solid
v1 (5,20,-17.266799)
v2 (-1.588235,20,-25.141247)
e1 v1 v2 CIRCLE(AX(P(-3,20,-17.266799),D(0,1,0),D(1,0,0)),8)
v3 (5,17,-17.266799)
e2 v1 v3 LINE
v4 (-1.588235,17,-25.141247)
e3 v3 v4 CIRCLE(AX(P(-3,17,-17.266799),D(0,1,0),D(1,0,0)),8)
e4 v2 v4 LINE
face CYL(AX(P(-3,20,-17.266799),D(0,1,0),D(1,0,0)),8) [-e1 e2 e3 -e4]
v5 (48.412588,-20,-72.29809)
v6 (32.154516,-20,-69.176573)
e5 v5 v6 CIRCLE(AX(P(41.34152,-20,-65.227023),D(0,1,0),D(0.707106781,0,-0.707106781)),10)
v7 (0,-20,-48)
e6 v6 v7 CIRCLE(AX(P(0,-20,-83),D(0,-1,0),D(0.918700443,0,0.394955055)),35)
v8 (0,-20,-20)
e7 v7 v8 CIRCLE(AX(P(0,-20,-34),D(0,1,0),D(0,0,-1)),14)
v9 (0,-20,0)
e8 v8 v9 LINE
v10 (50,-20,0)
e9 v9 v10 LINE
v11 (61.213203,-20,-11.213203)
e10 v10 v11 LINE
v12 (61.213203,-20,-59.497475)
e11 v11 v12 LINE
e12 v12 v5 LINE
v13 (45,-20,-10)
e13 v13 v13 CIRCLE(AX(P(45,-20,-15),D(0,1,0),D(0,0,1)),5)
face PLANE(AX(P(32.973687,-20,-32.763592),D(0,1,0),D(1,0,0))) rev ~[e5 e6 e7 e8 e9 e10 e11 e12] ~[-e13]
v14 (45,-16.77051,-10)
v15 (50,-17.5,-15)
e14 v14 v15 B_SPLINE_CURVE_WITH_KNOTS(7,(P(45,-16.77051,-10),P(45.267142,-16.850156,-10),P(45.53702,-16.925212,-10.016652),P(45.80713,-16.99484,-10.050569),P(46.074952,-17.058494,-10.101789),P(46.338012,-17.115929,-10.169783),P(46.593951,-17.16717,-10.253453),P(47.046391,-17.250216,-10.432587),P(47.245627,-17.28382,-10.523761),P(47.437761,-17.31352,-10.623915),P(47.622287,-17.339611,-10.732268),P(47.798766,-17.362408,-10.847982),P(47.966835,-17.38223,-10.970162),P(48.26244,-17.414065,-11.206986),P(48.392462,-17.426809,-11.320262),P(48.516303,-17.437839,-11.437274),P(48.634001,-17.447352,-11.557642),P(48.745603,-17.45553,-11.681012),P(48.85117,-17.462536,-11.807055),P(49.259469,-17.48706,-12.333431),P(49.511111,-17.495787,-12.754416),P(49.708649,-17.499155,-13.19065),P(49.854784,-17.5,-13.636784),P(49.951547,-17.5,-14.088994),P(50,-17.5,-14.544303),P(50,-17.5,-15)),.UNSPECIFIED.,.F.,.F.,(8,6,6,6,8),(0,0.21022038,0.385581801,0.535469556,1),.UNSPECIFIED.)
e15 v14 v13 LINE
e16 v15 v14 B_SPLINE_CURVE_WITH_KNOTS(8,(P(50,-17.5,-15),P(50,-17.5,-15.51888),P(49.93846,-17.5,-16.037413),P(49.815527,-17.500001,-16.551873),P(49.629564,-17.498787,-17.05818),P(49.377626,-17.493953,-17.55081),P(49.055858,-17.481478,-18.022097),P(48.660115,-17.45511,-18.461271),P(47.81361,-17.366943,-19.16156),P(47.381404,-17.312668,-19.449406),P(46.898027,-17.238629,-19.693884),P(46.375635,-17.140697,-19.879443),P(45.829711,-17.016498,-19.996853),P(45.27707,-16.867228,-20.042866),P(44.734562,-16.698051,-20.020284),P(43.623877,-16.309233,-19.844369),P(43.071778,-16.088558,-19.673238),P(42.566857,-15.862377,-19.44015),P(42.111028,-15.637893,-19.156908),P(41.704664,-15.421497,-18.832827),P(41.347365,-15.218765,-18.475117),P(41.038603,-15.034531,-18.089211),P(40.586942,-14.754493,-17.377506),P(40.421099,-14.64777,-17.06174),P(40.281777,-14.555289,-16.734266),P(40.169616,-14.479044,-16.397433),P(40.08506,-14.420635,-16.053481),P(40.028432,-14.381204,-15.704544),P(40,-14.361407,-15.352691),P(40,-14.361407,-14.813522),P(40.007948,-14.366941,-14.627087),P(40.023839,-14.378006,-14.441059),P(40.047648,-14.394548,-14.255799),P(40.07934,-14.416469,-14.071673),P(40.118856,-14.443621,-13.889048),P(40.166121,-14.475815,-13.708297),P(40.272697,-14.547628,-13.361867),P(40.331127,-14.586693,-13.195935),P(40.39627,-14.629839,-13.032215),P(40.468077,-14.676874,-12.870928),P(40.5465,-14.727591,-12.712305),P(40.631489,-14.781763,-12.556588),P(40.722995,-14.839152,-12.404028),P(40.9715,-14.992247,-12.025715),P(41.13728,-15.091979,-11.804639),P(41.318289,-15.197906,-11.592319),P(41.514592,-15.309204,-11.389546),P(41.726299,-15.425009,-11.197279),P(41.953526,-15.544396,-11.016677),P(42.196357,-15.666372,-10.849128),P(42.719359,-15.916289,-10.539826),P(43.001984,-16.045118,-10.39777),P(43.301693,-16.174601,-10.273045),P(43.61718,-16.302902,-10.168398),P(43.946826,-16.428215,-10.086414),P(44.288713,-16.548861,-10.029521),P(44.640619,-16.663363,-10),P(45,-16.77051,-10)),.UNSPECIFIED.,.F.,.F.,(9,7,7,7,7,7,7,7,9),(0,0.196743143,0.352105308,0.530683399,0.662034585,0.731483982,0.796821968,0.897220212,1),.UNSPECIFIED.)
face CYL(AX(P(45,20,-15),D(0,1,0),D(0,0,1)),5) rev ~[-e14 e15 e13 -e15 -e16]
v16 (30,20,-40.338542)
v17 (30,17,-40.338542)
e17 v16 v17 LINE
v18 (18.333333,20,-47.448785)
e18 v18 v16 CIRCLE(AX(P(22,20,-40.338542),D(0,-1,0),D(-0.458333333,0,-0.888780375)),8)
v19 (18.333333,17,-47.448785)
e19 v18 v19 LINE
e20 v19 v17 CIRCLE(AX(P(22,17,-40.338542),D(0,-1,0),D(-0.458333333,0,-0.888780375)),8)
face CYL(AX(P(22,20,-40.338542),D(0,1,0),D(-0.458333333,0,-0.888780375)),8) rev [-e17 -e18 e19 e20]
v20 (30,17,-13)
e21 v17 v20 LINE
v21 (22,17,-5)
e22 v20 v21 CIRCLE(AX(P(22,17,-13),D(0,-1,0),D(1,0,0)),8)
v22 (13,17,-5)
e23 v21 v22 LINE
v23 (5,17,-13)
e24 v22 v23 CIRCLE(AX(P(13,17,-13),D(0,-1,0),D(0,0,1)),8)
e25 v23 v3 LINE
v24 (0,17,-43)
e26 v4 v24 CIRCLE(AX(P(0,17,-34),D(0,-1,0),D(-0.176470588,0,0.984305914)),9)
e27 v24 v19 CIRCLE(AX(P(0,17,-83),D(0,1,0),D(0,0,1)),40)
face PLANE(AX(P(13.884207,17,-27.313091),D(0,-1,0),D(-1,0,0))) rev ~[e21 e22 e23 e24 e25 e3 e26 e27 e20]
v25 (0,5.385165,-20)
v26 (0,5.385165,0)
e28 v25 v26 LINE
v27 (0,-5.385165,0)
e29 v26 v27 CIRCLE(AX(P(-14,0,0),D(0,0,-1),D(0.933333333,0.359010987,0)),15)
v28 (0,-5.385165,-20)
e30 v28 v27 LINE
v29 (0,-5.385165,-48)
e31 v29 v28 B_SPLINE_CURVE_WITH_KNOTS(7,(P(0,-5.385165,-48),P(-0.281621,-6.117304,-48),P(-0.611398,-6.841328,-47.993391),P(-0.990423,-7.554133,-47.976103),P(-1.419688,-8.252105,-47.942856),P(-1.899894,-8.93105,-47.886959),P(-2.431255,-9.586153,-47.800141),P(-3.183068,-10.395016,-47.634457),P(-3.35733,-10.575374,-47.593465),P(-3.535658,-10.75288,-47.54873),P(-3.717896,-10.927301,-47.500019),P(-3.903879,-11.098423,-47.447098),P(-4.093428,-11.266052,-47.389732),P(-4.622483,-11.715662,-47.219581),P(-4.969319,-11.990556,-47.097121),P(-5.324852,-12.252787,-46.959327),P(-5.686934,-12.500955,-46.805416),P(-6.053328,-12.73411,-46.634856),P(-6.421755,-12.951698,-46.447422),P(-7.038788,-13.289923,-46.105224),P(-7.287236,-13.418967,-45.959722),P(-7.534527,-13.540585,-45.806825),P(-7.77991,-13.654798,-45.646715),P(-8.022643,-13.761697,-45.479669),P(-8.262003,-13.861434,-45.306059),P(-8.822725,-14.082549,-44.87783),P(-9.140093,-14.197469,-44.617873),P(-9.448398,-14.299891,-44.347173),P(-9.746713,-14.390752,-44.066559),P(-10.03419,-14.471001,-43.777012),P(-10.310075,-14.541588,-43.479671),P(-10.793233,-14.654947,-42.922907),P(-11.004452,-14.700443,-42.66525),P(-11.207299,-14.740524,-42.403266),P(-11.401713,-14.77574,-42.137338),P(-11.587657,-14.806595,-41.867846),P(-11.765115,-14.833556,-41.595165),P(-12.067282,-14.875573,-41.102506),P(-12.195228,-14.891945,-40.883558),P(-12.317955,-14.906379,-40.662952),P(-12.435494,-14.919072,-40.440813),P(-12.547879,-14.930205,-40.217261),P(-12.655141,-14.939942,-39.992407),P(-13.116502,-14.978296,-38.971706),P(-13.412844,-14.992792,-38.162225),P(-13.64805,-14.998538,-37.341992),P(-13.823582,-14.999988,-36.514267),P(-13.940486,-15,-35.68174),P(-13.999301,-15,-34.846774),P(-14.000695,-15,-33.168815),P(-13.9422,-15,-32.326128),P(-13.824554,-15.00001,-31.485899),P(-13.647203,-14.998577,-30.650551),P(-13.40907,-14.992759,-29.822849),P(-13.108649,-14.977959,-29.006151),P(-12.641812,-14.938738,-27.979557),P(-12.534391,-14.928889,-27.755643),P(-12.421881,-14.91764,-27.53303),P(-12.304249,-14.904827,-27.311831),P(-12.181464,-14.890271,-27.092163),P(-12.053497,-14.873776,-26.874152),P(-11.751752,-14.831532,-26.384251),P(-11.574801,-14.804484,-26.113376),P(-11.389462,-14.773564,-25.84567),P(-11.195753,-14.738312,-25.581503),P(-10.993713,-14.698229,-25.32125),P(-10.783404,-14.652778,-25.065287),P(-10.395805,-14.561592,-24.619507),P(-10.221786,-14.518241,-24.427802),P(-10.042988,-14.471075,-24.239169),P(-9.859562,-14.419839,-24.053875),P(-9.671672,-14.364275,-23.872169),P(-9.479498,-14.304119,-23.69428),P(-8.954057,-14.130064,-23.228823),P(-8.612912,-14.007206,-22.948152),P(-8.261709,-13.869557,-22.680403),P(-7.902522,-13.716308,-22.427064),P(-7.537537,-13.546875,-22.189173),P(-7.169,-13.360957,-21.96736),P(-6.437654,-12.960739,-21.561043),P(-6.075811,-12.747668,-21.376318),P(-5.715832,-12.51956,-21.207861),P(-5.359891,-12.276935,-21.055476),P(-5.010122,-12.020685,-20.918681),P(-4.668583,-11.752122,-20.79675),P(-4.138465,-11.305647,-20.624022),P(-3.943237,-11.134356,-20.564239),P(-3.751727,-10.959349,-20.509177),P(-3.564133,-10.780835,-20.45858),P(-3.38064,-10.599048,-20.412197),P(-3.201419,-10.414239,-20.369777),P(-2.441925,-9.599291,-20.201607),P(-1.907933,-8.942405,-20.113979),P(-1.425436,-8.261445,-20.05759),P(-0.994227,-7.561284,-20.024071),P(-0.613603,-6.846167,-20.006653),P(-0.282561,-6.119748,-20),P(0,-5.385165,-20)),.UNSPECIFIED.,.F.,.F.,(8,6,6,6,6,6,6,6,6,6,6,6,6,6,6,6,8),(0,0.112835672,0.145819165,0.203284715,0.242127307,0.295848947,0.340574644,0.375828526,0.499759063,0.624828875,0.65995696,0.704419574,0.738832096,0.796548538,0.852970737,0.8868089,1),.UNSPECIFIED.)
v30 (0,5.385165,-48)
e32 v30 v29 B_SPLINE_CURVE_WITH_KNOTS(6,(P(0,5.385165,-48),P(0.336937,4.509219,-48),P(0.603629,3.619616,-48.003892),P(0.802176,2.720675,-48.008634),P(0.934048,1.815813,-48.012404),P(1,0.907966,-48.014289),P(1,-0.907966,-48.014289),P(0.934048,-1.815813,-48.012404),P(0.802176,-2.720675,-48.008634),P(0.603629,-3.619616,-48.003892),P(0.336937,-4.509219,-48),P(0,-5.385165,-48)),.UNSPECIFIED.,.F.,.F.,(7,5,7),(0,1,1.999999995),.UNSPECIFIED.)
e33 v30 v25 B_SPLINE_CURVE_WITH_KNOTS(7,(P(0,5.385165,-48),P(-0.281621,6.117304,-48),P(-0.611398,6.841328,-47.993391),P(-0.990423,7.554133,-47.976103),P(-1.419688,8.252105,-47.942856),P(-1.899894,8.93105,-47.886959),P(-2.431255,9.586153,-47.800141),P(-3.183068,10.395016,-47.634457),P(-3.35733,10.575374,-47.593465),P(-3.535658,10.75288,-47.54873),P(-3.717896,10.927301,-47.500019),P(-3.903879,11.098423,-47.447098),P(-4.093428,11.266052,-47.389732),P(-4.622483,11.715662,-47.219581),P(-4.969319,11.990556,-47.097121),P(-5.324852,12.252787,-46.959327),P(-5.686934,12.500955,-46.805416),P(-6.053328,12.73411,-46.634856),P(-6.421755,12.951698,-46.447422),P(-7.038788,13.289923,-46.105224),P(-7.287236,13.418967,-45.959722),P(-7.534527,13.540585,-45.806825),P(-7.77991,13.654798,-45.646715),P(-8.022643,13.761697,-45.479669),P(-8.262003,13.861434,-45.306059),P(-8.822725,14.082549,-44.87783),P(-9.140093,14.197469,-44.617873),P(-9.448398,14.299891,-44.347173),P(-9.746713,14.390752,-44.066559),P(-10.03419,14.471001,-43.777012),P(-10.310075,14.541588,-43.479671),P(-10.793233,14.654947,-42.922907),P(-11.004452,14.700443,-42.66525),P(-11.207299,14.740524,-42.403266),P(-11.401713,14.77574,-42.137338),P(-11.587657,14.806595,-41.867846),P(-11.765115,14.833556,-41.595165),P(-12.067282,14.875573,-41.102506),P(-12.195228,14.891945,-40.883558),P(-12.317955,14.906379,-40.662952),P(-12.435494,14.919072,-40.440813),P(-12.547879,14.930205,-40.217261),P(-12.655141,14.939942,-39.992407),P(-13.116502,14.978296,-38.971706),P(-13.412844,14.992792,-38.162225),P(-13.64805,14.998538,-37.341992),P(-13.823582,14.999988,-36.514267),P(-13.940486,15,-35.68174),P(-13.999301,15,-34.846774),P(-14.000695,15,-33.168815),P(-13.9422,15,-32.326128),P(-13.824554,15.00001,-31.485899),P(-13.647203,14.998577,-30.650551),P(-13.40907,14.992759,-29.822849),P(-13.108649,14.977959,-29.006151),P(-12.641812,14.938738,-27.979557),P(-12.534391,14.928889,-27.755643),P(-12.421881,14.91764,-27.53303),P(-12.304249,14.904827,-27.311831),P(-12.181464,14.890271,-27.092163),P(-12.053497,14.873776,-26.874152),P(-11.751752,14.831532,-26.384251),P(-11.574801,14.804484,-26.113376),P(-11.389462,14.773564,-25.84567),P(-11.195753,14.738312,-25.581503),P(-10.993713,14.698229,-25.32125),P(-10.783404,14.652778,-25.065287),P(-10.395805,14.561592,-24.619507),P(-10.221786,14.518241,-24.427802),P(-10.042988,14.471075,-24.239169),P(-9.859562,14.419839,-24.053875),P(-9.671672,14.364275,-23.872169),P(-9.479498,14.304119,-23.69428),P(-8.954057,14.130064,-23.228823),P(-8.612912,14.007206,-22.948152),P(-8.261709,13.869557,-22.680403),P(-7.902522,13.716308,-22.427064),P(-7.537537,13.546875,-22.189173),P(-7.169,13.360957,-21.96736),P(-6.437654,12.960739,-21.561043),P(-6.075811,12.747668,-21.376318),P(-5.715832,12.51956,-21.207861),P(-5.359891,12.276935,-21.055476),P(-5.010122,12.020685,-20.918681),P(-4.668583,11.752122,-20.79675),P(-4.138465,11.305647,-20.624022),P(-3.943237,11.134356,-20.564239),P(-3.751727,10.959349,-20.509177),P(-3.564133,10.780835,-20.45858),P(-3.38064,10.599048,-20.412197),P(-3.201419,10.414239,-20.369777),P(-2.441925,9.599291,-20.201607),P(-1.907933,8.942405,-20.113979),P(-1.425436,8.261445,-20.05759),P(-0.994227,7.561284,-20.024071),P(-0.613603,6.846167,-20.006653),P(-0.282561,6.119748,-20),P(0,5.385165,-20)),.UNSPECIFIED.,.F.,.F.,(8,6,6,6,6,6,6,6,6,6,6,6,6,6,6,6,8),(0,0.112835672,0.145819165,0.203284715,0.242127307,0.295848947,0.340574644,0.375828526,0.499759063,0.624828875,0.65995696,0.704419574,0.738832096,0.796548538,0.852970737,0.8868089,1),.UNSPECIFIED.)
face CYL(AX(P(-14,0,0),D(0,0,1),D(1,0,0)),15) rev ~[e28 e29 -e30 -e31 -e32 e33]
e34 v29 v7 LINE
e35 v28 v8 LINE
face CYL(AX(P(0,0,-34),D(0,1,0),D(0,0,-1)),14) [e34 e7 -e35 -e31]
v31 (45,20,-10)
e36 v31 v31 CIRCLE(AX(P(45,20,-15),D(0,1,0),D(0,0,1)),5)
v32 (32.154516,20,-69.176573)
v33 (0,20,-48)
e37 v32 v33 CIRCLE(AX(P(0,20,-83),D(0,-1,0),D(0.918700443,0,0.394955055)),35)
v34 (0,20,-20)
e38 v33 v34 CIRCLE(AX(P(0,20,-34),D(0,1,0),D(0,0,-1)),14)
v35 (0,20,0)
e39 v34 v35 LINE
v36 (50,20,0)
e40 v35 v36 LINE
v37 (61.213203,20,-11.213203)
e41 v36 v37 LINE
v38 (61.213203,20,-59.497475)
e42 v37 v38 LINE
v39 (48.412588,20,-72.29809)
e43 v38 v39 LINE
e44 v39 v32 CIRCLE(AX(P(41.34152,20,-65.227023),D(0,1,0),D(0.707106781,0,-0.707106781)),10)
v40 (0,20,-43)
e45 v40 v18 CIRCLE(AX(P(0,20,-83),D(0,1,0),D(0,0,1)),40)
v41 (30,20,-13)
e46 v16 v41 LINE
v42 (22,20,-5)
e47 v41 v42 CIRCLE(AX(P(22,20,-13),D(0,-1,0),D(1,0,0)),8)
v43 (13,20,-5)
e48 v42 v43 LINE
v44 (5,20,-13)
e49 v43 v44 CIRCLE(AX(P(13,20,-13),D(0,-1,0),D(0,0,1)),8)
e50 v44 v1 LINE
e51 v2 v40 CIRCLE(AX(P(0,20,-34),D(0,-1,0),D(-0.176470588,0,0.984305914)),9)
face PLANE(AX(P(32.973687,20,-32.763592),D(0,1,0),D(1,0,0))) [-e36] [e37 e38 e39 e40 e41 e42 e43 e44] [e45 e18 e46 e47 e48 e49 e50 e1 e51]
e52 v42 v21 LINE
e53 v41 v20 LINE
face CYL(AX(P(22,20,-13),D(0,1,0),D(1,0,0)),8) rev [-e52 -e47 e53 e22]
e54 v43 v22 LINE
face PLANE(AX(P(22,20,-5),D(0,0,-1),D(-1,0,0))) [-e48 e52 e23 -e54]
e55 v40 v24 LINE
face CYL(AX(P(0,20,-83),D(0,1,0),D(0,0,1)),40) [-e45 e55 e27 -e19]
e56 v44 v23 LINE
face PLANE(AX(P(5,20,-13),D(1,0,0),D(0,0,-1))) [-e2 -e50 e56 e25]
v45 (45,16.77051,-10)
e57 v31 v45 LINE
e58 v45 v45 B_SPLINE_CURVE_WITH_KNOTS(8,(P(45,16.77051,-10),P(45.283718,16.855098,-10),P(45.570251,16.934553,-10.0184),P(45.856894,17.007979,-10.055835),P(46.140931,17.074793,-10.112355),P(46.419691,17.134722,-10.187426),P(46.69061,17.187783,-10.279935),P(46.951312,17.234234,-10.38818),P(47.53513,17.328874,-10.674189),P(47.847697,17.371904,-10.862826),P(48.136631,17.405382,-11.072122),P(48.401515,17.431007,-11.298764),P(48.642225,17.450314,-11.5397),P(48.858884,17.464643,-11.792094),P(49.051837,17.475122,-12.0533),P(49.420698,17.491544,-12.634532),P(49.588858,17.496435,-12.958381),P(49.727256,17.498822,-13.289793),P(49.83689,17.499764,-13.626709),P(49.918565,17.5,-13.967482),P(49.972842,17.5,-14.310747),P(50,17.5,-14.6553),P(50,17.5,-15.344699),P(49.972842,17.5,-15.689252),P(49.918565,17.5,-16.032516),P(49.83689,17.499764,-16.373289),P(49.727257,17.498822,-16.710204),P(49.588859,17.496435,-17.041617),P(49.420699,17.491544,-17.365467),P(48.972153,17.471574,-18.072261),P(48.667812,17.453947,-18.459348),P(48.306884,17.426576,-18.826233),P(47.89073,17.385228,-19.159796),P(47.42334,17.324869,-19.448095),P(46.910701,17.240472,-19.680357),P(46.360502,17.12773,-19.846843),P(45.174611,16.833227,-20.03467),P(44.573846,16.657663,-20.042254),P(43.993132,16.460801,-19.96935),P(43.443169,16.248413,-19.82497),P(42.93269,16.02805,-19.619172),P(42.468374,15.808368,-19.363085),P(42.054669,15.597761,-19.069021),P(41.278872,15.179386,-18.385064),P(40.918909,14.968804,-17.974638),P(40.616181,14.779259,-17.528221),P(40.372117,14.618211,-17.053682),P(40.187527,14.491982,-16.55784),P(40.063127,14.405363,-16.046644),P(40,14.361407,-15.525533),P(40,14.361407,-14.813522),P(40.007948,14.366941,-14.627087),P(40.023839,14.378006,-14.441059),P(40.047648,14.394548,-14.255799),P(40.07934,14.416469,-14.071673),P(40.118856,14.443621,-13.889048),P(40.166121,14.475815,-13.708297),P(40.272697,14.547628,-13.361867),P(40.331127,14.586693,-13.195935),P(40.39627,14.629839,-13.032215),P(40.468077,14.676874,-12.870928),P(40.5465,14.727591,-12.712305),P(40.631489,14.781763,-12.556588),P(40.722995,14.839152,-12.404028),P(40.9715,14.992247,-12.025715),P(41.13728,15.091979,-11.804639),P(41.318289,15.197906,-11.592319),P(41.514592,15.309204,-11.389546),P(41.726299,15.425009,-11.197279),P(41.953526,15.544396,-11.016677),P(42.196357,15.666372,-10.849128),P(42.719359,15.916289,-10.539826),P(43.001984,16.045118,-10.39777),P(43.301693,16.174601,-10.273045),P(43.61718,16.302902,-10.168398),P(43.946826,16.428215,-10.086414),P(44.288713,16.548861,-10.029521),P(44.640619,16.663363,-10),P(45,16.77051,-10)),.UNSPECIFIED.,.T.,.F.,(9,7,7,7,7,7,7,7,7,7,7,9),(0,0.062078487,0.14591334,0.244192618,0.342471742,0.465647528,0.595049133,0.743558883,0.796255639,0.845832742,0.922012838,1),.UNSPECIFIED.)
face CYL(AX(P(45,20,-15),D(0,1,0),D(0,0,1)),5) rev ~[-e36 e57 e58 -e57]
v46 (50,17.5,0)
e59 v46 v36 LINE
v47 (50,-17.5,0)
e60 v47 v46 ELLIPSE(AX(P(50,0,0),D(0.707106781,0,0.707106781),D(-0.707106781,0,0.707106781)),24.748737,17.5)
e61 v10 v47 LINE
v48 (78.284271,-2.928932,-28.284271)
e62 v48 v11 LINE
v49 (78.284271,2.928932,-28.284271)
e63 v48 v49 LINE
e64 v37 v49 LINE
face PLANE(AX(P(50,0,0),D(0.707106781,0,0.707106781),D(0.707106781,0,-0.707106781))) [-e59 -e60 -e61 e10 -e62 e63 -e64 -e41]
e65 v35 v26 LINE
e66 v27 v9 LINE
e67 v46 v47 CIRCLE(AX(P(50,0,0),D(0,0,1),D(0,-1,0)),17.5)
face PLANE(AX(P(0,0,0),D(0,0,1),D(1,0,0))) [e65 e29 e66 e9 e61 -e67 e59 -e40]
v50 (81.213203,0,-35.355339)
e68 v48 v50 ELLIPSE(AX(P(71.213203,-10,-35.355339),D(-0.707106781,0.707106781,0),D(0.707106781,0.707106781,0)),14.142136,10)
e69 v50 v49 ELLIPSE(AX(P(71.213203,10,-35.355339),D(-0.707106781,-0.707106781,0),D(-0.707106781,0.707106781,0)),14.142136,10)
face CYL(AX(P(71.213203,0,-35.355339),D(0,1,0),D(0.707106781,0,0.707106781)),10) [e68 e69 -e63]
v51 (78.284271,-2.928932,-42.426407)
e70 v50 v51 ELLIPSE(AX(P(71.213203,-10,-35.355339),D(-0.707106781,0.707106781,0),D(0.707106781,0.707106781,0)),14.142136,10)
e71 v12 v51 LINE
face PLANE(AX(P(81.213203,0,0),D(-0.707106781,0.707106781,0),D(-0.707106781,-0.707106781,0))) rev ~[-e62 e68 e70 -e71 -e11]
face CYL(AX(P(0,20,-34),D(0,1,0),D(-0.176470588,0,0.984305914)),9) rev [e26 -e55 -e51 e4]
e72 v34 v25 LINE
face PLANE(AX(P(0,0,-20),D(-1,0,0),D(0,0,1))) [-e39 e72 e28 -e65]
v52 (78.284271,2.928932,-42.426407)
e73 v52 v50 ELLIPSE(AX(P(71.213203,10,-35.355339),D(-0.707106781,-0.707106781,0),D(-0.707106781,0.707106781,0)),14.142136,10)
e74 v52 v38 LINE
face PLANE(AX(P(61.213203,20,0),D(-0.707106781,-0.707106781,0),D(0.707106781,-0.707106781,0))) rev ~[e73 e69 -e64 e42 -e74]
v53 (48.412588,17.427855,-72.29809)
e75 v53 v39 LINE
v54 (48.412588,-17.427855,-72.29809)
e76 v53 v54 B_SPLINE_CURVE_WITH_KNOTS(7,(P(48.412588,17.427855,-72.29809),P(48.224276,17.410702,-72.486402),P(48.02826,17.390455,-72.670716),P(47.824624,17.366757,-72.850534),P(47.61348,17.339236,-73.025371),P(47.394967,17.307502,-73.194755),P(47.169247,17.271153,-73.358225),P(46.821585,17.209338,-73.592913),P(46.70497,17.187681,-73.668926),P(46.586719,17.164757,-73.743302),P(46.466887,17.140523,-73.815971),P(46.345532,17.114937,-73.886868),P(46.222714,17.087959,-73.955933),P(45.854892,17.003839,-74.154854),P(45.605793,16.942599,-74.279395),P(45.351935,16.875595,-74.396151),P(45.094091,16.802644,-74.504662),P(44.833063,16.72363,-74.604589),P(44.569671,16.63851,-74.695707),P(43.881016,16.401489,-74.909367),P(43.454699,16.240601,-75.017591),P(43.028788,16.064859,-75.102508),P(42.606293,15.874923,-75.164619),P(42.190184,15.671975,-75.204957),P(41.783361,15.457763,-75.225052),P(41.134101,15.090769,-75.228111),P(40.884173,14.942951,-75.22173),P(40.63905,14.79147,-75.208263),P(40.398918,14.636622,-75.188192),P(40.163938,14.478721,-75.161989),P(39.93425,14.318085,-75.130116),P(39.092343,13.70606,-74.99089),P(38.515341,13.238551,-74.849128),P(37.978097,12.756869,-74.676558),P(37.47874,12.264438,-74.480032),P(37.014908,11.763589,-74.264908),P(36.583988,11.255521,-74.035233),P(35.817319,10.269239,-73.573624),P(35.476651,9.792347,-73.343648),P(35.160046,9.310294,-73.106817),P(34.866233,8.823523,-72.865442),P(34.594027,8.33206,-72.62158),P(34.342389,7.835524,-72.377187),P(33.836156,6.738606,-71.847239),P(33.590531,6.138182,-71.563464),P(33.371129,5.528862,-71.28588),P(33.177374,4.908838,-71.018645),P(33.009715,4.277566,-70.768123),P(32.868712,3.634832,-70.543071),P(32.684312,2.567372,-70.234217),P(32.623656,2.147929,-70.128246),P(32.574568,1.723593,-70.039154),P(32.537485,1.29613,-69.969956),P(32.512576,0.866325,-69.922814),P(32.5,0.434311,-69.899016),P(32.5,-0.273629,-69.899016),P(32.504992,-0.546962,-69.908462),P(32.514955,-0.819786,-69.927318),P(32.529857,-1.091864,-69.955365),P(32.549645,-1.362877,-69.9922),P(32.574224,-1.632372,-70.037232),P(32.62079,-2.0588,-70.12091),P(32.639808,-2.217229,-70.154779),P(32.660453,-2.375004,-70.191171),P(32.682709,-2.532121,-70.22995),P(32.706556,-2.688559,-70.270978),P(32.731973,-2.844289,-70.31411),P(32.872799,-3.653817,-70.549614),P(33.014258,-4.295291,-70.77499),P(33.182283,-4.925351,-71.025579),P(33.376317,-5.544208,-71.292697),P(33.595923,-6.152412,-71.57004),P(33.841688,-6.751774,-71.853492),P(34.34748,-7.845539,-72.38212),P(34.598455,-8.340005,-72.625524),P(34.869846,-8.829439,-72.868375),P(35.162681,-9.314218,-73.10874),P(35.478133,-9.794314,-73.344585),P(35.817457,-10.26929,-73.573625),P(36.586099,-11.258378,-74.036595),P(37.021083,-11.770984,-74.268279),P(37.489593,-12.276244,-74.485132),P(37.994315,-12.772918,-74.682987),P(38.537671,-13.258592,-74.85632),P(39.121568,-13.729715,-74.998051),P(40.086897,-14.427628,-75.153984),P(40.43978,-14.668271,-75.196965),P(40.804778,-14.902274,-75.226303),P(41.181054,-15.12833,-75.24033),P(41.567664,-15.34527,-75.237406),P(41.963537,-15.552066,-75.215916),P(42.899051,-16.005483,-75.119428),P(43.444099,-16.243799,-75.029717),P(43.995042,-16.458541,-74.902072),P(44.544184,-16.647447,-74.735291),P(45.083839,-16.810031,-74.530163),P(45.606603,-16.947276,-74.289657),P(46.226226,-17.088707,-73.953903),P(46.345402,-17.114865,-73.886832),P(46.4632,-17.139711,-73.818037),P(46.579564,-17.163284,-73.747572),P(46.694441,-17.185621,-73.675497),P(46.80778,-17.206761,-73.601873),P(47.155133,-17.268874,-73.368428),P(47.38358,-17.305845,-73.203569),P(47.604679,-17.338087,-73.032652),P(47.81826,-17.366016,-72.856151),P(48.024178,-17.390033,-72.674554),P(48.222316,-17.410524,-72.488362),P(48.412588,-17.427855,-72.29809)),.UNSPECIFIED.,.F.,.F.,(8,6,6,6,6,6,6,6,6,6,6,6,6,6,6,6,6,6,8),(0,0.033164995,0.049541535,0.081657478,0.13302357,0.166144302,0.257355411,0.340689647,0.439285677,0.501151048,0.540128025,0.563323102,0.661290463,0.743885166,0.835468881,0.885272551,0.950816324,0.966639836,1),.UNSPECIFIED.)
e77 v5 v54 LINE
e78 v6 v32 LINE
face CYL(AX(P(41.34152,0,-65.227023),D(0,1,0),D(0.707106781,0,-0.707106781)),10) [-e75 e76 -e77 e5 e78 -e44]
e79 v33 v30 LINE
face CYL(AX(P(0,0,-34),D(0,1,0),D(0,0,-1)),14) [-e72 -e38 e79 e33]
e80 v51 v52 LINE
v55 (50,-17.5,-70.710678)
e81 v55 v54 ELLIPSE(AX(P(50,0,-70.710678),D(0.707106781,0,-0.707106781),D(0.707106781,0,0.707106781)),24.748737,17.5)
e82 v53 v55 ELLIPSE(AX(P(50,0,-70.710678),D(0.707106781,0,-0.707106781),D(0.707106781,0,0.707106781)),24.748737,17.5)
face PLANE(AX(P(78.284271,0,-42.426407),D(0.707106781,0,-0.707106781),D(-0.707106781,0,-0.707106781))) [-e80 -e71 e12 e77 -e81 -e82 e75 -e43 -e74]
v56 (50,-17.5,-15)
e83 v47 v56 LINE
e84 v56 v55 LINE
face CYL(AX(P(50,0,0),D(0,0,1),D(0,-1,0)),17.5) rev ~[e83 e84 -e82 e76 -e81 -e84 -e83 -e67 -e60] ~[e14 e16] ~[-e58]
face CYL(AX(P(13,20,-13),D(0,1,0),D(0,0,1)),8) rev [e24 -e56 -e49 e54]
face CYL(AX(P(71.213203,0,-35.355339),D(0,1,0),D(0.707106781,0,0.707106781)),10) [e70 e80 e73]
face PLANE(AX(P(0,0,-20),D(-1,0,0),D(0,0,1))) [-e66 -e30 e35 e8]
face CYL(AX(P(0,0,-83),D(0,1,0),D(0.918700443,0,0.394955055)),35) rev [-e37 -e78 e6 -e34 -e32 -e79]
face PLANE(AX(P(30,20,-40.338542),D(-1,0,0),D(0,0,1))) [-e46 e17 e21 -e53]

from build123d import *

# Parameters (mm, degrees)
BOSS_EXTRU_1_DEPTH      = 20
ENL_V_MAT_EXTRU_1_DEPTH = 3
ESQUISSE3_R             = 17.5
ESQUISSE3_R_2           = 15
ENL_V_MAT_EXTRU_2_DEPTH = 113.493063486
ESQUISSE5_R             = 5
ENL_V_MAT_EXTRU_3_DEPTH = 118.705944436
ENL_V_MAT_EXTRU_4_DEPTH = 113.493063571


with BuildPart() as part:
    # Esquisse1 → Boss.-Extru.1 (new, symmetric)
    with BuildSketch(Plane(origin=(0, 0, 0), x_dir=(1, 0, 0), z_dir=(0, 1, 0))):
        with BuildLine():
            Line((0, 0), (50, 0))
            Line((50, 0), (78.284271247, 28.284271247))
            ThreePointArc((78.284271247, 28.284271247), (81.213203436, 35.355339059), (78.284271247, 42.426406871))
            Line((78.284271247, 42.426406871), (48.412587767, 72.298090352))
            ThreePointArc((48.412587767, 72.298090352), (39.455979063, 75.047650602), (32.154515521, 69.176573087))
            ThreePointArc((32.154515521, 69.176573087), (19.250715026, 53.76970799), (0, 48))
            ThreePointArc((0, 48), (-14, 34), (0, 20))
            Line((0, 20), (0, 0))
        make_face()
    extrude(amount=BOSS_EXTRU_1_DEPTH, both=True)

    # Esquisse2 → Enlèv. mat.-Extru.1 (cut)
    with BuildSketch(Plane(origin=(0, 20, 0), x_dir=(1, 0, 0), z_dir=(0, 1, 0))):
        with BuildLine():
            Line((30, 40.338541985), (30, 13))
            ThreePointArc((30, 13), (27.656854249, 7.343145751), (22, 5))
            Line((22, 5), (13, 5))
            ThreePointArc((13, 5), (7.343145751, 7.343145751), (5, 13))
            Line((5, 13), (5, 17.266799469))
            ThreePointArc((5, 17.266799469), (3.135719911, 22.400311053), (-1.588235294, 25.141246778))
            ThreePointArc((-1.588235294, 25.141246778), (-8.964618759, 34.797251843), (0, 43))
            ThreePointArc((0, 43), (9.432693133, 44.128103979), (18.333333333, 47.448784987))
            ThreePointArc((18.333333333, 47.448784987), (26.163331999, 47.169842495), (30, 40.338541985))
        make_face()
    extrude(amount=-ENL_V_MAT_EXTRU_1_DEPTH, mode=Mode.SUBTRACT)

    # Esquisse3 → Enlèv. mat.-Extru.2 (cut, through all)
    with BuildSketch(Plane.XY):
        with Locations(Location((50, 0, 0), (0, 0, 270))):
            Circle(ESQUISSE3_R)
        with Locations((-14, 0)):
            Circle(ESQUISSE3_R_2)
    extrude(amount=-ENL_V_MAT_EXTRU_2_DEPTH, mode=Mode.SUBTRACT)

    # Esquisse5 → Enlèv. mat.-Extru.3 (cut, through all)
    with BuildSketch(Plane(origin=(0, 20, 0), x_dir=(1, 0, 0), z_dir=(0, 1, 0))):
        with Locations(Location((45, 15, 0), (0, 0, 270))):
            Circle(ESQUISSE5_R)
    extrude(amount=-ENL_V_MAT_EXTRU_3_DEPTH, mode=Mode.SUBTRACT)

    # Esquisse6 → Enlèv. mat.-Extru.4 (cut, through all)
    with BuildSketch(Plane.XY):
        Polygon((81.213203436, 0), (81.213203436, 20), (61.213203436, 20), align=None)
        Polygon((81.213203436, -20), (81.213203436, 0), (61.213203436, -20), align=None)
    extrude(amount=-ENL_V_MAT_EXTRU_4_DEPTH, mode=Mode.SUBTRACT)


solid = part.part
